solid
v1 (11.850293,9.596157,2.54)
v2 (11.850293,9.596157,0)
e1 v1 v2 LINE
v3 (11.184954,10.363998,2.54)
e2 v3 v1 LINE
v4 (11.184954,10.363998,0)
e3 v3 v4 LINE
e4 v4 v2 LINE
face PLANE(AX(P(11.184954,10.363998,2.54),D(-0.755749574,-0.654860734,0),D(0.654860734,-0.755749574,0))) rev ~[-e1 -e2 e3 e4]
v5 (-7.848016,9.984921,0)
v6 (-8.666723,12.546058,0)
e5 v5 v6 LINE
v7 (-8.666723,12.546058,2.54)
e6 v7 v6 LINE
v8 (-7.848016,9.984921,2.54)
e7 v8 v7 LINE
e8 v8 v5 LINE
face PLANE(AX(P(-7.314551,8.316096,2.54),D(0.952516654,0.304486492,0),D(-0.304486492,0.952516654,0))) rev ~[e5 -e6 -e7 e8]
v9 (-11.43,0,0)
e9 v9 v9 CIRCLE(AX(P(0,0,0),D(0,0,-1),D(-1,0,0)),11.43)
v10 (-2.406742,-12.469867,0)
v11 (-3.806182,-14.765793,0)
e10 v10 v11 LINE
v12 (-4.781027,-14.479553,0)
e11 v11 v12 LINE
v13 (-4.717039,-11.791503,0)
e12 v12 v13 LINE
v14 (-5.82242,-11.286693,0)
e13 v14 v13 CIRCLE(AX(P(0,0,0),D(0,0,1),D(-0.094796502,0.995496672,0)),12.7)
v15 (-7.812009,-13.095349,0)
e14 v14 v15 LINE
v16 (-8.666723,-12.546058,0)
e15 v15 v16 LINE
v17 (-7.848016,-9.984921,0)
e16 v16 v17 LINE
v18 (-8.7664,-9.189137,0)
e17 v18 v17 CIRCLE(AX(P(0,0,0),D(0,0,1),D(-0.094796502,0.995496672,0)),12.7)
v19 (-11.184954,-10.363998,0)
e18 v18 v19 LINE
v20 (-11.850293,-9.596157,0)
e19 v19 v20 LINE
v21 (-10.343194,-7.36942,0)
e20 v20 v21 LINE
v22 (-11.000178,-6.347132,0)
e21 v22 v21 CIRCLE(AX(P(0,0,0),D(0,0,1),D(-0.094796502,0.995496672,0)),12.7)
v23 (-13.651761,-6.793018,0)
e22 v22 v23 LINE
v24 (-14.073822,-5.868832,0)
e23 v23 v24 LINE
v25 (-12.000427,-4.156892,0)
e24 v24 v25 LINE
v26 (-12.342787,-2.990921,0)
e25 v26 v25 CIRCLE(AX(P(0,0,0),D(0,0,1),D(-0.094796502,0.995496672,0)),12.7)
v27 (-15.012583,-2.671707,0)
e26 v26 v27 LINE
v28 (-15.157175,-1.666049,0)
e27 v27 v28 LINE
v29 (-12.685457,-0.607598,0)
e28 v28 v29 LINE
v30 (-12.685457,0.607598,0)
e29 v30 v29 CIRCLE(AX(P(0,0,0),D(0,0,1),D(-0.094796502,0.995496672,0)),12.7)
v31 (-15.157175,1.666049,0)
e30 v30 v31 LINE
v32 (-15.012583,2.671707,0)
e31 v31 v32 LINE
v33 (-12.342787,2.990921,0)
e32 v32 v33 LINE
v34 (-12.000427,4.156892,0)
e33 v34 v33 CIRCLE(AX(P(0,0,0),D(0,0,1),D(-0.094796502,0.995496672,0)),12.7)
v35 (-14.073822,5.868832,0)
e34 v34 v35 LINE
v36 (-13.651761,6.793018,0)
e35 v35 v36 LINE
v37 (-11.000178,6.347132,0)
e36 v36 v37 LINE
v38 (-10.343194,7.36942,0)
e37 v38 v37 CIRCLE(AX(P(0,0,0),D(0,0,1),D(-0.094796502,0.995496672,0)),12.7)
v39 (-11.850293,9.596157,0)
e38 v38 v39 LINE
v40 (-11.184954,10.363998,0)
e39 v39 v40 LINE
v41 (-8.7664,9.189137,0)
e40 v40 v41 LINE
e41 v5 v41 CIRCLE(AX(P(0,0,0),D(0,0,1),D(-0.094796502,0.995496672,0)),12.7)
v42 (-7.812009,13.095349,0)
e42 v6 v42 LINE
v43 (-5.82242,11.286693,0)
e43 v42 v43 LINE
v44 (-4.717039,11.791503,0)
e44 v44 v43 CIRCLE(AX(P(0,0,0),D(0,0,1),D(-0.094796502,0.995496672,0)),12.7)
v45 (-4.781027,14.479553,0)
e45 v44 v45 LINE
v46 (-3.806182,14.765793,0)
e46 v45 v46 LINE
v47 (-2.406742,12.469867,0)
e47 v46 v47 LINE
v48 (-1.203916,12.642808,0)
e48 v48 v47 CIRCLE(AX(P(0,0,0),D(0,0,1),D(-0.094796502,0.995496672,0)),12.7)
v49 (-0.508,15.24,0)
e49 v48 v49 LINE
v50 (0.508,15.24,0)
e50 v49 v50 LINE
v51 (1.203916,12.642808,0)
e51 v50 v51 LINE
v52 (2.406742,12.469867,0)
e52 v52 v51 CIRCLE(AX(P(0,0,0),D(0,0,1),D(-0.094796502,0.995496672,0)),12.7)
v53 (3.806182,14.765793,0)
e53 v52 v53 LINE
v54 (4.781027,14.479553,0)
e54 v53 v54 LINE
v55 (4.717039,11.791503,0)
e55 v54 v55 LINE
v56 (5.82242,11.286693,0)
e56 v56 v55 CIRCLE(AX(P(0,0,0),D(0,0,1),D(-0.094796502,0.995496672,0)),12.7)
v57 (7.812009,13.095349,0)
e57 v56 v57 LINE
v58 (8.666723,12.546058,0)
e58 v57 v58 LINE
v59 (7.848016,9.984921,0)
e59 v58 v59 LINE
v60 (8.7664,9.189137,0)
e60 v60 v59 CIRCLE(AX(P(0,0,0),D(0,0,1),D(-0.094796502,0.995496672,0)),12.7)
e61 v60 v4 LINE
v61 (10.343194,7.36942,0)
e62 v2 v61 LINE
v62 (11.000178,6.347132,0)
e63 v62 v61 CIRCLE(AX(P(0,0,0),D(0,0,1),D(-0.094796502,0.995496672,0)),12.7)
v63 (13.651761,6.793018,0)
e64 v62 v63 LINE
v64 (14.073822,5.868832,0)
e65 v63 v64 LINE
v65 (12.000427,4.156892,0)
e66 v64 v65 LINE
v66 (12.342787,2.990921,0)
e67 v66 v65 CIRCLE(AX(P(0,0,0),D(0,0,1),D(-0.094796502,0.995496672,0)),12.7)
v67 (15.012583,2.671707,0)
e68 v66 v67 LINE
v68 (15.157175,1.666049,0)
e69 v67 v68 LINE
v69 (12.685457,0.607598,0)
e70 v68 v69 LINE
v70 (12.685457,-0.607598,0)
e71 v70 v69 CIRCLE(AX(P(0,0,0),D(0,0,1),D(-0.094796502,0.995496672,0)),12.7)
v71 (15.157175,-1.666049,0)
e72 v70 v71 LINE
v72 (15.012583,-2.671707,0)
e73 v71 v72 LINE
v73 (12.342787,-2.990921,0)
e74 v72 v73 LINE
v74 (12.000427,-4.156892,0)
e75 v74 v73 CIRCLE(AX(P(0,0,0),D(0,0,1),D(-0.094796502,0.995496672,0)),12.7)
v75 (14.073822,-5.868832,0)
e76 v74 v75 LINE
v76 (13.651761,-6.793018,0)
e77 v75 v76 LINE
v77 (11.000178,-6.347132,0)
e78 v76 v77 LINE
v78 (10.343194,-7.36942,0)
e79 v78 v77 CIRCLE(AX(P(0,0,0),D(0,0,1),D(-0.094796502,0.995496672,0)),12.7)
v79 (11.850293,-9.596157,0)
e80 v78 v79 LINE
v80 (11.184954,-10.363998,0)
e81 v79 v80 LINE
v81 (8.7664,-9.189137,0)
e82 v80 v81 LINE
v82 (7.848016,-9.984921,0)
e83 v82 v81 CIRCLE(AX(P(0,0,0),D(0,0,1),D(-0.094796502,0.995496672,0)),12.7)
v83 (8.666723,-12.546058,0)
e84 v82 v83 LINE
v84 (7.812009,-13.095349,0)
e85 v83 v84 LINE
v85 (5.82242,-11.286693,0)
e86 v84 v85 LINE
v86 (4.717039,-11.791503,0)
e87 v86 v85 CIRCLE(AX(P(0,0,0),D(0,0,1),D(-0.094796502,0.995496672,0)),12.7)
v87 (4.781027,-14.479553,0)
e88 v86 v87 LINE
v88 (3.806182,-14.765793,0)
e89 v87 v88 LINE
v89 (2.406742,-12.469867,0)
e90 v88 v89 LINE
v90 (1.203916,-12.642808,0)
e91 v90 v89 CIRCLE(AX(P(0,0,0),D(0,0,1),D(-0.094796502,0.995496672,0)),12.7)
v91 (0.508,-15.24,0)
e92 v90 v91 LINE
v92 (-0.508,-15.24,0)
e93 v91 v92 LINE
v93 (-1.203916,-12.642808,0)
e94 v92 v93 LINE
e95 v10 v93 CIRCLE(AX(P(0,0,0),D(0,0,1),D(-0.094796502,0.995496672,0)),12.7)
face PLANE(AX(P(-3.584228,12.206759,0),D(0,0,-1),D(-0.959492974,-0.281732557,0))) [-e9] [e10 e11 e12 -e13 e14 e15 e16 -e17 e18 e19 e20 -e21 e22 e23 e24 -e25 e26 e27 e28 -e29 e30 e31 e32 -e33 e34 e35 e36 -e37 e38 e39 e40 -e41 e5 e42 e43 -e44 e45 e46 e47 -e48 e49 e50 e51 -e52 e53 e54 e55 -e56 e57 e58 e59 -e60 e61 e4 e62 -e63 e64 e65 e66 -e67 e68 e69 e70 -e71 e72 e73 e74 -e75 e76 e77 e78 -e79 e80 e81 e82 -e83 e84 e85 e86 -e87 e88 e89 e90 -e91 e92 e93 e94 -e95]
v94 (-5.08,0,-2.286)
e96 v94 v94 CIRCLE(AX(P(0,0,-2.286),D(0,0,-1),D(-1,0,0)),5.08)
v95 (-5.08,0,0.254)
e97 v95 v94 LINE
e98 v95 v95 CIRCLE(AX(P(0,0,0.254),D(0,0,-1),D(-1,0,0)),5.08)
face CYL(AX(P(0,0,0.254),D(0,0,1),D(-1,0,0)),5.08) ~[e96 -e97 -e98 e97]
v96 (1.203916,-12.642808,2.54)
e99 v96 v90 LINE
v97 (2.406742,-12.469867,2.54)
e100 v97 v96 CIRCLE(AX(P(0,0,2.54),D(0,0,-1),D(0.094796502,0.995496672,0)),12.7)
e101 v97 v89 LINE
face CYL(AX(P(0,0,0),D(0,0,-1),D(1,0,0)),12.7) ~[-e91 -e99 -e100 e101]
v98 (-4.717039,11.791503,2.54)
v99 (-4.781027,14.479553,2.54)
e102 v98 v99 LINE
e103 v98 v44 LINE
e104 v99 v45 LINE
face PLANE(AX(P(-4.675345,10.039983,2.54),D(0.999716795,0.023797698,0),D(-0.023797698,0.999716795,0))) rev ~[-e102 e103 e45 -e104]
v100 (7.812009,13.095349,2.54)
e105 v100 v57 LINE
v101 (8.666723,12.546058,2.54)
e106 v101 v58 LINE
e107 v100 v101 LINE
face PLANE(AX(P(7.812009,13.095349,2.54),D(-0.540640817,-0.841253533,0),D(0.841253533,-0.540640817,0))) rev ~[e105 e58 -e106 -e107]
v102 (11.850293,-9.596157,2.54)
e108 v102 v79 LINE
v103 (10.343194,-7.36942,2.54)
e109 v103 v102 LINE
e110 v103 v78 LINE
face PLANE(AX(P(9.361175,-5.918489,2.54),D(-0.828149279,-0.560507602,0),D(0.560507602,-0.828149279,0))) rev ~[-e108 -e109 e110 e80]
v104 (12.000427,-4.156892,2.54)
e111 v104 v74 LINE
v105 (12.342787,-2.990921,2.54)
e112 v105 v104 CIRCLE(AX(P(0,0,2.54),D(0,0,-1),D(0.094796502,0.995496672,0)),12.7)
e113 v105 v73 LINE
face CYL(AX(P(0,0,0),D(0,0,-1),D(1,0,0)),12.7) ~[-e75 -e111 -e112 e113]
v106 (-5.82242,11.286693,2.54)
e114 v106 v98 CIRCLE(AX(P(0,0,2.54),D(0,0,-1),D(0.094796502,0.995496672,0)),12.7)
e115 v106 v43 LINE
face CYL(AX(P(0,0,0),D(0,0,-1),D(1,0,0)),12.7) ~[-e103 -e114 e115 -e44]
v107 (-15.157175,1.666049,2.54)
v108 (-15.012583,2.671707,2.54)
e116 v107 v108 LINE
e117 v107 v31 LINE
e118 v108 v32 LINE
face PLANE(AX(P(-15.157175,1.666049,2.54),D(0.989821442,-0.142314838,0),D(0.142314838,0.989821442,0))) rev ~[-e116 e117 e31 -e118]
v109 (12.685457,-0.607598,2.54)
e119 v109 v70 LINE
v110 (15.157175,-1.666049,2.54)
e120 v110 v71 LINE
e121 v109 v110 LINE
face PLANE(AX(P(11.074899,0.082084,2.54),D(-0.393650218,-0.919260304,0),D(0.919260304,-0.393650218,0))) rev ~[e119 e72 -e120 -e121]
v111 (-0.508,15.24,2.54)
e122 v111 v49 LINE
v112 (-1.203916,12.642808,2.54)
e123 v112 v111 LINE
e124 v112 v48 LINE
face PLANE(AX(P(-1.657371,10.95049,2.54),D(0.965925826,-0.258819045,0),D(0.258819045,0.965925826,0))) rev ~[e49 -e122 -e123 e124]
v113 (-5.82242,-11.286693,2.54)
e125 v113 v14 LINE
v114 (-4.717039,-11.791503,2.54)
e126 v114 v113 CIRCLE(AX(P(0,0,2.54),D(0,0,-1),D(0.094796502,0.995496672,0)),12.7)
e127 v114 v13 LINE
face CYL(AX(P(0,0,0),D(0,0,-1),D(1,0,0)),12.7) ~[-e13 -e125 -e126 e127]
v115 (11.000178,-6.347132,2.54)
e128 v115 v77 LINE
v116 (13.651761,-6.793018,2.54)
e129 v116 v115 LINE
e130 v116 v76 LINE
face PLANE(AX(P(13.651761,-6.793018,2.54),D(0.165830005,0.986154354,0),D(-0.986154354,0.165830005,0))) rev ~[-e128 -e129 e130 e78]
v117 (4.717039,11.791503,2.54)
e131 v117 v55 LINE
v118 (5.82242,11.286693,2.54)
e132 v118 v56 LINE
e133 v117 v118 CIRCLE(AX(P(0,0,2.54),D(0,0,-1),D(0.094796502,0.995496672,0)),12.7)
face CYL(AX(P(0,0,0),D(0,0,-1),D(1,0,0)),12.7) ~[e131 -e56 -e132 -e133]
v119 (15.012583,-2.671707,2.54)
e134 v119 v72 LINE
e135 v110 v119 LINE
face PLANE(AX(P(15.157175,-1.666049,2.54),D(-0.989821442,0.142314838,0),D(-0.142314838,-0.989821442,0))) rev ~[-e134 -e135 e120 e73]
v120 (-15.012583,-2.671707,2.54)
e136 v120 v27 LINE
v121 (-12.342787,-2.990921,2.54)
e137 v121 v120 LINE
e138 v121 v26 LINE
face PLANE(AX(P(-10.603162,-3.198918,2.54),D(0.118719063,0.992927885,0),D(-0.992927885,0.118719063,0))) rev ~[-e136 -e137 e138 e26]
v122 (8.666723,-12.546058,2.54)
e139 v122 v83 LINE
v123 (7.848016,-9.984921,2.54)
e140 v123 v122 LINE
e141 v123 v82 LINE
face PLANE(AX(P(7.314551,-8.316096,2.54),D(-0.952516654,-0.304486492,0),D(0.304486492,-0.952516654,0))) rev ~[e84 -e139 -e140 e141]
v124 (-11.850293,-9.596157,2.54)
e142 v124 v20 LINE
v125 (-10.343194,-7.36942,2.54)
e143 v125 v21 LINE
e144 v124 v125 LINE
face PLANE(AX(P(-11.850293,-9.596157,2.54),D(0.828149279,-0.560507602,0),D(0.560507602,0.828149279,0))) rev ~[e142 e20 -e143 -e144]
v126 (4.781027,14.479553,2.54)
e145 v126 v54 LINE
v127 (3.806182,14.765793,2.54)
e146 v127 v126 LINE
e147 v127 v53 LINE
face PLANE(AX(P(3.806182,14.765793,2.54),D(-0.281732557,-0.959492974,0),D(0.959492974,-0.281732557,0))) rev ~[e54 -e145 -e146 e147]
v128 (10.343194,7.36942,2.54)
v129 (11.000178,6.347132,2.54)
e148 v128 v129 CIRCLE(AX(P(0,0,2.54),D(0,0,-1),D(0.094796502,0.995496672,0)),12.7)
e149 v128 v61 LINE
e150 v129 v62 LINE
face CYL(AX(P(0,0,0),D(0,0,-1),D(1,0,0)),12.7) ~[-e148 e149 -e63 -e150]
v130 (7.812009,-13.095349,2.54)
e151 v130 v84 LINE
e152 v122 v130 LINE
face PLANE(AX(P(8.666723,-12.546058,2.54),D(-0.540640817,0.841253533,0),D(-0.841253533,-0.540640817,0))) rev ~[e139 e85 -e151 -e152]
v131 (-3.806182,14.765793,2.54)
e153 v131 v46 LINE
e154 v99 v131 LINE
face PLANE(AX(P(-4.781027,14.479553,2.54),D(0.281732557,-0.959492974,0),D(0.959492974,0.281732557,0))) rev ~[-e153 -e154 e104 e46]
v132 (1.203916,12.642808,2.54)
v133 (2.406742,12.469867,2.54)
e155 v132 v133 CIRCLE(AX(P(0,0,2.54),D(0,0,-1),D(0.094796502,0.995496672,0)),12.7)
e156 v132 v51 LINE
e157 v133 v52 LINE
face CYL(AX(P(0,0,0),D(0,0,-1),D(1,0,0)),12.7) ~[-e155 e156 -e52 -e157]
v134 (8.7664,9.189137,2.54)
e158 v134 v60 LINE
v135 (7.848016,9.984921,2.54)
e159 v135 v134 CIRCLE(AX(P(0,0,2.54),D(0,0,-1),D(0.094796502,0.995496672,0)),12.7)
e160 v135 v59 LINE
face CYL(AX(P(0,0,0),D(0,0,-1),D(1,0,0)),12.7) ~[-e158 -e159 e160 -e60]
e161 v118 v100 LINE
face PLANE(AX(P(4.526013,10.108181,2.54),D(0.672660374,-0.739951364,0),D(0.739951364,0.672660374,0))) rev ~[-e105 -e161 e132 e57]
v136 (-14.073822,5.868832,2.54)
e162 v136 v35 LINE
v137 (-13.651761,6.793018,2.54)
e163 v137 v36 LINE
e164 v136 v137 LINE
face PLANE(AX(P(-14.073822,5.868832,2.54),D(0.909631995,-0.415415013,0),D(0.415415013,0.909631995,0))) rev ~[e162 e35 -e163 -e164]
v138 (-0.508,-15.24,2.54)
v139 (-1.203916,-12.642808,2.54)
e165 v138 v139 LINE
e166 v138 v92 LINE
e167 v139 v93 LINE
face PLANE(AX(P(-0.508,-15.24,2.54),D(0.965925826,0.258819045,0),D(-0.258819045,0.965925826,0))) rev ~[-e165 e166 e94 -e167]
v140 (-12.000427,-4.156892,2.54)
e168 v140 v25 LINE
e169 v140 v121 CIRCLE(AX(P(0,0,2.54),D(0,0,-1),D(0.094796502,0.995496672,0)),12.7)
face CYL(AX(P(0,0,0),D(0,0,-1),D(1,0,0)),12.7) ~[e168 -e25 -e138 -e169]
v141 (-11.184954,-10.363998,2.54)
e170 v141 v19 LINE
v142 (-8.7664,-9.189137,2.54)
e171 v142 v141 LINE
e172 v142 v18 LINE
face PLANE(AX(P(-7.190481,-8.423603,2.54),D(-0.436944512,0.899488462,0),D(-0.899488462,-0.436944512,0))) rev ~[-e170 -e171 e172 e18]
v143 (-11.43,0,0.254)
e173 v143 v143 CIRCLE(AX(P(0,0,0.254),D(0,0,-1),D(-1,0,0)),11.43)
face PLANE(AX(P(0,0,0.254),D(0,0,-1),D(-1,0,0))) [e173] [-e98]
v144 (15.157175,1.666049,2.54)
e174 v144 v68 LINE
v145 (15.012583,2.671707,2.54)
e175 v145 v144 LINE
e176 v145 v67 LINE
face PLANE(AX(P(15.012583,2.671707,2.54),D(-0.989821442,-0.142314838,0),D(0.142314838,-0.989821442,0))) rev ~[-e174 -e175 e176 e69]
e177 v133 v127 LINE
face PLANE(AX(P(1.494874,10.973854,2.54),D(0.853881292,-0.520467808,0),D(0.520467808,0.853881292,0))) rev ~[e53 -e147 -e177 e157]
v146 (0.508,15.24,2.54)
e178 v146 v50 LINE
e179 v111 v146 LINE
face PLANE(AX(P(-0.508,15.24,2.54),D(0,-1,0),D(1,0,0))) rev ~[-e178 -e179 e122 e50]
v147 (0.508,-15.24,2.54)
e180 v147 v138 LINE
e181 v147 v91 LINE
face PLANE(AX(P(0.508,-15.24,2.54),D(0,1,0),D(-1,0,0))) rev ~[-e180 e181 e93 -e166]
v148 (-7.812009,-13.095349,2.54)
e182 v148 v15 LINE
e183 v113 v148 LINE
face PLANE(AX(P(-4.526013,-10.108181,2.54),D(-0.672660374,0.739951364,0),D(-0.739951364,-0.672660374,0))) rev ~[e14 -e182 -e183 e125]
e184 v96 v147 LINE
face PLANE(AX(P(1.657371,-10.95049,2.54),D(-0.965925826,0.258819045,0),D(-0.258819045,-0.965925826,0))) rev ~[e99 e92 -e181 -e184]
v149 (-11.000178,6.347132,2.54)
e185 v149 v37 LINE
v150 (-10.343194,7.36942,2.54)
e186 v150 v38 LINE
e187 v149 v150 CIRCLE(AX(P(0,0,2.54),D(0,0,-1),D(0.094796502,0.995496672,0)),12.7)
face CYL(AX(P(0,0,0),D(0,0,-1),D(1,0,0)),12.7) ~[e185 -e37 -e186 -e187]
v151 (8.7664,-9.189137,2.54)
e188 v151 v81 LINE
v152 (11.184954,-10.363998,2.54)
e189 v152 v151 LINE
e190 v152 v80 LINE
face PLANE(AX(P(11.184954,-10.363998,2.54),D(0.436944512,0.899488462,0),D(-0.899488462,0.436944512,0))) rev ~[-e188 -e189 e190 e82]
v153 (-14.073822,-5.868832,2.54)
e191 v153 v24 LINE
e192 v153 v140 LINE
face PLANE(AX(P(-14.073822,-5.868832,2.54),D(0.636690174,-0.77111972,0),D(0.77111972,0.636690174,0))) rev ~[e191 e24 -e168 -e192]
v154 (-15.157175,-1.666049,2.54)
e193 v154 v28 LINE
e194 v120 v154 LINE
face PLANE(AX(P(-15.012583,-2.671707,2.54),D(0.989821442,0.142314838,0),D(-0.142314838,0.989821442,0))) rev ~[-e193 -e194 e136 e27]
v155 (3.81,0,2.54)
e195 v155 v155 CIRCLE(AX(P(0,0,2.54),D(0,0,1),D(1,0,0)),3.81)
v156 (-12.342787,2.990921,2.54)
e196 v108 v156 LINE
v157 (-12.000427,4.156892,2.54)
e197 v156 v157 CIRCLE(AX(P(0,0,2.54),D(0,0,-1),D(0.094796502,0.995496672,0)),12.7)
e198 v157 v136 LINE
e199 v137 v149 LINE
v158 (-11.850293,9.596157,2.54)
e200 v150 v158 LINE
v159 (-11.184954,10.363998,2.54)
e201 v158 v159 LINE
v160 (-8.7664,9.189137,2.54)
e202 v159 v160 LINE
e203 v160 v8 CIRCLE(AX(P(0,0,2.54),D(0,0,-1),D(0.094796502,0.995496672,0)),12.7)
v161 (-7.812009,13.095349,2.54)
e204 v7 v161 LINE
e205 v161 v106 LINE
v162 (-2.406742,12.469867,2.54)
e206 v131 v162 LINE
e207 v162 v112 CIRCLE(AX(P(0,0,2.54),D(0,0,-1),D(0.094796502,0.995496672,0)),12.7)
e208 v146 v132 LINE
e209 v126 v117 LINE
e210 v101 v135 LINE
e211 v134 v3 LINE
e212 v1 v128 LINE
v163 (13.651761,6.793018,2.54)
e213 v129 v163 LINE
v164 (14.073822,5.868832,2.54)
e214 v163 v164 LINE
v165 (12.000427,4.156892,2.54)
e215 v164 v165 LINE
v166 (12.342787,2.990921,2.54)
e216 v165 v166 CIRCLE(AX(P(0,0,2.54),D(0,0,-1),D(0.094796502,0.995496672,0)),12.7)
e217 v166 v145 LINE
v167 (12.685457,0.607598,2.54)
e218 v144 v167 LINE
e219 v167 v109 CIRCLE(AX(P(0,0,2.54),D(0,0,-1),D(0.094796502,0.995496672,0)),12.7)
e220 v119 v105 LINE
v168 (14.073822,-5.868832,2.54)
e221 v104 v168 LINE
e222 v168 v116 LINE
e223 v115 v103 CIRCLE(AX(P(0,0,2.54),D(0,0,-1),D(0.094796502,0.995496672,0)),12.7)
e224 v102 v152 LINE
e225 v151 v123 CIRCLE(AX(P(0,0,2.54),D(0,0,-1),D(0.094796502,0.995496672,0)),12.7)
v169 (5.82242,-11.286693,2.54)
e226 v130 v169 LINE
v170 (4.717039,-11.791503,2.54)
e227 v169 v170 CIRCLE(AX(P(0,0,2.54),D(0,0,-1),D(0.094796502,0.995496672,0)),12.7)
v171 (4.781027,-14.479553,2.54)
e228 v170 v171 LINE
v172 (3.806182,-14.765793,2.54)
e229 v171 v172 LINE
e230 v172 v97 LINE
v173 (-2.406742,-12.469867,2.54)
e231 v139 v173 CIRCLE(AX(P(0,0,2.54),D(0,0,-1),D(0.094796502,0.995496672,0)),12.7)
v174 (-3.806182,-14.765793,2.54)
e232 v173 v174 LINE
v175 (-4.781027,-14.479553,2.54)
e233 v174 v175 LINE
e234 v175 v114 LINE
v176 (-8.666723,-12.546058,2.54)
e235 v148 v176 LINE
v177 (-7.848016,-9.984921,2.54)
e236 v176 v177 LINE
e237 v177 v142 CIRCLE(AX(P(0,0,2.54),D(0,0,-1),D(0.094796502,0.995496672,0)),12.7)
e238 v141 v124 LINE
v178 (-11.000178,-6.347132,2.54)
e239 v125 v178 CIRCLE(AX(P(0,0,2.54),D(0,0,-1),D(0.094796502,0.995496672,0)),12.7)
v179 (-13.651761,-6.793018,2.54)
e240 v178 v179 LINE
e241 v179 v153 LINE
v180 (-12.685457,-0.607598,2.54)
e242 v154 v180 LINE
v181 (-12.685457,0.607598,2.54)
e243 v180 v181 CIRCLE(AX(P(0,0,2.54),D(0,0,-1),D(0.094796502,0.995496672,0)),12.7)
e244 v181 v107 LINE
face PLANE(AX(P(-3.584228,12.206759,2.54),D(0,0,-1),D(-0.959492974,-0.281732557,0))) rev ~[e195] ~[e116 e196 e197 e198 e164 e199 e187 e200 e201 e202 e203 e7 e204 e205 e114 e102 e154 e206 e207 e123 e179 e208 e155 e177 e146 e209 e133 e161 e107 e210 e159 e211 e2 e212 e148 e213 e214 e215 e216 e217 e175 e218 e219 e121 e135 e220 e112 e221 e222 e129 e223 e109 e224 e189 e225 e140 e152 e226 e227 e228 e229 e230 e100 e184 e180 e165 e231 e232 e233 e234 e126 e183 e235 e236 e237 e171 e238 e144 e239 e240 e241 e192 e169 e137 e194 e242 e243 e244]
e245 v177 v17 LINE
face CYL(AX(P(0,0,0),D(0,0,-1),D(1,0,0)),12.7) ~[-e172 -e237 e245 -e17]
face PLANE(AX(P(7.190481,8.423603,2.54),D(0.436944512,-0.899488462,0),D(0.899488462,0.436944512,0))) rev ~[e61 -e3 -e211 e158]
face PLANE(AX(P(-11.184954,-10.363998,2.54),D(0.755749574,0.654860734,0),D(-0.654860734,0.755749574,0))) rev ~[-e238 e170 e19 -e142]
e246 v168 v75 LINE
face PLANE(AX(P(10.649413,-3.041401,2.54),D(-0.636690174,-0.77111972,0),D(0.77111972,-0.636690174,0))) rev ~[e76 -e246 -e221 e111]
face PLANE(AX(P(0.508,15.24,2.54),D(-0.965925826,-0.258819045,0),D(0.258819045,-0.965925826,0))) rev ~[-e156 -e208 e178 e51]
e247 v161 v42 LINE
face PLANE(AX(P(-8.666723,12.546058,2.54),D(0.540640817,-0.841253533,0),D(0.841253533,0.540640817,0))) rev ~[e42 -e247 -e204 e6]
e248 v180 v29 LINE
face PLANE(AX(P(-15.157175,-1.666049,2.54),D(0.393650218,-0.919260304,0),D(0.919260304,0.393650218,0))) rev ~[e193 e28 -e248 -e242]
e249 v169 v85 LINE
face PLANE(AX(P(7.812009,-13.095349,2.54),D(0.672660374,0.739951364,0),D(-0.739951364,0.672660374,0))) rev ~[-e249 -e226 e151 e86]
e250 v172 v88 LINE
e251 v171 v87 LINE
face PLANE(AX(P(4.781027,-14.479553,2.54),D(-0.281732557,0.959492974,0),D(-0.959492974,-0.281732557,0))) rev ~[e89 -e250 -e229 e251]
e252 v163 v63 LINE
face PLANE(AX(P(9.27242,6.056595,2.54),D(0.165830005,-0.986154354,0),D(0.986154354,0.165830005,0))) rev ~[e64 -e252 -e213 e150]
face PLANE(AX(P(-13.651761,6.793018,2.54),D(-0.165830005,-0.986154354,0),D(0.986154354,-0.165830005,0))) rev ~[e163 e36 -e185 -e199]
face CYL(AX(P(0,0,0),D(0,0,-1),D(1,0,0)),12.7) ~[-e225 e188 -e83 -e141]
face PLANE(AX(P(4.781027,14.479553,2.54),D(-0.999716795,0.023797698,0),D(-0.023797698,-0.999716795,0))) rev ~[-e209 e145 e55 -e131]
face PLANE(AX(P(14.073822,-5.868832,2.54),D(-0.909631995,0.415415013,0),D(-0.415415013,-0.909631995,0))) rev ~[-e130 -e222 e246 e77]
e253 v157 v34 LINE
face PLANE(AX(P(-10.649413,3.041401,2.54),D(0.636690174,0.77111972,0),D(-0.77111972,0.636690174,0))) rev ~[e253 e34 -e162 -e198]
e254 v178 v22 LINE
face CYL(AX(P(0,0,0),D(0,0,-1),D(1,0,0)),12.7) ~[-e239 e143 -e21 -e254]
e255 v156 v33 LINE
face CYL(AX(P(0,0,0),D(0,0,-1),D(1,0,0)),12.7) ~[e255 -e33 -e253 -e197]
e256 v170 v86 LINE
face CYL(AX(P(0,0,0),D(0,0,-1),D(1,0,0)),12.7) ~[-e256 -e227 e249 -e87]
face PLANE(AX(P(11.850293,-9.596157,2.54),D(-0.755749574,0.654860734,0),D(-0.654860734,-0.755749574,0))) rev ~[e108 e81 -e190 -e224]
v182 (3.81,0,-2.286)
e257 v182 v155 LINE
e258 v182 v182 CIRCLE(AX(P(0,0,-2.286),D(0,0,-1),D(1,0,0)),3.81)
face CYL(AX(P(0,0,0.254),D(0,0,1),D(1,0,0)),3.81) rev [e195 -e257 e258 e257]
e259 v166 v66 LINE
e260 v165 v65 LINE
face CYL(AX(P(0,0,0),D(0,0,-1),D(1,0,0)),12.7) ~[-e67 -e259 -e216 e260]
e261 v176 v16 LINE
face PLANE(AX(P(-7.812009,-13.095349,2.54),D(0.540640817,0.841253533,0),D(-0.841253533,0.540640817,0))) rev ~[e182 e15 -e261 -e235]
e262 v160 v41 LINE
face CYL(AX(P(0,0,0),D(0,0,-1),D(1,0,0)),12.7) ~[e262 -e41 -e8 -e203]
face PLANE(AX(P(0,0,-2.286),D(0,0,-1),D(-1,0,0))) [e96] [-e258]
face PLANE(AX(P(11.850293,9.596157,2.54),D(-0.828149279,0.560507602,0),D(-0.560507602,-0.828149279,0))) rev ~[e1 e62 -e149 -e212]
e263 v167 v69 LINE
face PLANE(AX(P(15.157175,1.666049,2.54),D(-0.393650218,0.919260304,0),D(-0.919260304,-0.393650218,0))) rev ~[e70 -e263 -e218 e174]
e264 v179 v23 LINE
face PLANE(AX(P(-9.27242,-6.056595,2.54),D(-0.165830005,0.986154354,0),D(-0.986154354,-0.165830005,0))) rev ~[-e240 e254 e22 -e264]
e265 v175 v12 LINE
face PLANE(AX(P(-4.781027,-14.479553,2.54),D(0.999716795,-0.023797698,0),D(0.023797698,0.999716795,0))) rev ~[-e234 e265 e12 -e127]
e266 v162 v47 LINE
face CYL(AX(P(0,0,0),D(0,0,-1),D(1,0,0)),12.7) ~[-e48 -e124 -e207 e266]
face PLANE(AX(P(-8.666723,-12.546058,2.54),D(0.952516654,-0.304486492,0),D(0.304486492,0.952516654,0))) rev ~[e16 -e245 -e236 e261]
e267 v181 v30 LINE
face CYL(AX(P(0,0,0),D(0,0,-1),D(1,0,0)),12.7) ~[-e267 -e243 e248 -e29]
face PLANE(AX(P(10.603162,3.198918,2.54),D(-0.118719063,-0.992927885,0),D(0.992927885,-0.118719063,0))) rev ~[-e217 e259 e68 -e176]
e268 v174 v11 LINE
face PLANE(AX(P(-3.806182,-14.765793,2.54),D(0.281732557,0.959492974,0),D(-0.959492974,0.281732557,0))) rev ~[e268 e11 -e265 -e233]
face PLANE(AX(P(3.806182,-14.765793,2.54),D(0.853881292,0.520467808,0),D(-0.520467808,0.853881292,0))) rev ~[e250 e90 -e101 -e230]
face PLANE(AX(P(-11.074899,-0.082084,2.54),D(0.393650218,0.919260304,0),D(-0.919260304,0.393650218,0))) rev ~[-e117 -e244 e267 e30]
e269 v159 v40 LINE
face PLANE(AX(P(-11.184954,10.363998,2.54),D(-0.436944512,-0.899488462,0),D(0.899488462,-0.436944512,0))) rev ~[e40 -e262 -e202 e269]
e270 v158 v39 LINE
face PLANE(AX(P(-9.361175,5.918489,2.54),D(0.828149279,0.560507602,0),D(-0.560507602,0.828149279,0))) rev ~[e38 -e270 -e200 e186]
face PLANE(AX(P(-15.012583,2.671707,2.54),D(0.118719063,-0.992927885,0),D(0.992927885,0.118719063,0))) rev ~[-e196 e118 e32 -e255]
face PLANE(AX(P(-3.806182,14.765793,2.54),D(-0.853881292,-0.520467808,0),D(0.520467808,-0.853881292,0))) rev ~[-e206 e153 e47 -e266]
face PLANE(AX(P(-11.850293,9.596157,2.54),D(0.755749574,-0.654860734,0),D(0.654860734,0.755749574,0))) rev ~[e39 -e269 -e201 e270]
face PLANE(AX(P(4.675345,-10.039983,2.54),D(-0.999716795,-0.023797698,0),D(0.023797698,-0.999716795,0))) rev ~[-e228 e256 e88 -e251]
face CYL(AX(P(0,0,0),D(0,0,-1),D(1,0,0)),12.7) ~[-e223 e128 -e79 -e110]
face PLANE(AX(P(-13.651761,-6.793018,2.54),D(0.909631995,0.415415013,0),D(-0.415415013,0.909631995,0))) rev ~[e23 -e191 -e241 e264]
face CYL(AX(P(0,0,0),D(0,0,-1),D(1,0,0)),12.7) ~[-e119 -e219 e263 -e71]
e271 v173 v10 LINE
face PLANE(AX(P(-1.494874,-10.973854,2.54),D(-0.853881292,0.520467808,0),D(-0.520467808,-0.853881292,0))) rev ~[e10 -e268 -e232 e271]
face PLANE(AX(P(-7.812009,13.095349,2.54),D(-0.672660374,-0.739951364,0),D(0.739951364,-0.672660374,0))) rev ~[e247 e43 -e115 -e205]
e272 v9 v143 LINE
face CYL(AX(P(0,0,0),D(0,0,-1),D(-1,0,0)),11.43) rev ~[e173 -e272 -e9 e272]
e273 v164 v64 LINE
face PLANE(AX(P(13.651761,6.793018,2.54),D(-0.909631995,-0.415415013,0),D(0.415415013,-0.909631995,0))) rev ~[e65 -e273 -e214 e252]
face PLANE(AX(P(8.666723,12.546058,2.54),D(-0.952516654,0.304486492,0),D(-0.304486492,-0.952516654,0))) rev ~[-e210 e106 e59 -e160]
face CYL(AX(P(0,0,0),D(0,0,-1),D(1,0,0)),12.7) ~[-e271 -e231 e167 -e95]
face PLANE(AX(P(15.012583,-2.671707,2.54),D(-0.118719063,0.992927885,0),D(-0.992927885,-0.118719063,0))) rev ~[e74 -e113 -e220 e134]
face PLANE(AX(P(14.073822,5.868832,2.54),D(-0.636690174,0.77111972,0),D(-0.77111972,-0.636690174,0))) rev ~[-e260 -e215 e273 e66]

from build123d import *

# Parameters (mm, degrees)
SKETCH3_R            = 12.7
BOSS_EXTRUDE2_DEPTH  = 2.54
BOSS_EXTRUDE4_DEPTH  = 2.54
CIRPATTERN1_COUNT    = 22
SKETCH5_R            = 11.43
BOSS_EXTRUDE6_DEPTH  = 0.254
SKETCH6_R            = 3.81
CUT_EXTRUDE1_DEPTH   = 16.08
SKETCH8_R            = 11.43
CUT_EXTRUDE2_DEPTH   = 0.254
SKETCH9_R            = 5.08
BOSS_EXTRUDE11_DEPTH = 2.54
CUT_EXTRUDE3_START   = -2.54
SKETCH10_R           = 3.81
CUT_EXTRUDE3_DEPTH   = 2.54


with BuildPart() as part:
    # Sketch3 → Boss-Extrude2 (new body)
    with BuildSketch(Plane.XY):
        Circle(SKETCH3_R)
    boss_extrude2 = extrude(amount=BOSS_EXTRUDE2_DEPTH)

    # Sketch4 → Boss-Extrude4 (add)
    with BuildSketch(Plane.XY.offset(2.54)):
        Polygon((-0.508, 15.24), (0.508, 15.24), (1.657370651, 10.950490333), (-1.657370651, 10.950490333), align=None)
    boss_extrude4 = extrude(amount=-BOSS_EXTRUDE4_DEPTH)

    # CirPattern1: Boss-Extrude2, Boss-Extrude4 ×22 about axis
    cirpattern1_axis = Axis((0, 0, 0), (0, 0, 1))
    add([boss_extrude2.rotate(cirpattern1_axis, i * 360 / CIRPATTERN1_COUNT) for i in range(1, CIRPATTERN1_COUNT)])
    add([boss_extrude4.rotate(cirpattern1_axis, i * 360 / CIRPATTERN1_COUNT) for i in range(1, CIRPATTERN1_COUNT)])

    # Sketch5 → Boss-Extrude6 (add)
    with BuildSketch(Plane(origin=(0, 0, 0), x_dir=(-1, 0, 0), z_dir=(0, 0, -1))):
        Circle(SKETCH5_R)
    extrude(amount=-BOSS_EXTRUDE6_DEPTH)

    # Sketch6 → Cut-Extrude1 (cut)
    with BuildSketch(Plane.XY.offset(2.54)):
        Circle(SKETCH6_R)
    extrude(amount=-CUT_EXTRUDE1_DEPTH, mode=Mode.SUBTRACT)

    # Sketch8 → Cut-Extrude2 (cut)
    with BuildSketch(Plane(origin=(0, 0, 0), x_dir=(-1, 0, 0), z_dir=(0, 0, -1))):
        Circle(SKETCH8_R)
    extrude(amount=-CUT_EXTRUDE2_DEPTH, mode=Mode.SUBTRACT)

    # Sketch9 → Boss-Extrude11 (add)
    with BuildSketch(Plane(origin=(0, 0, 0.254), x_dir=(-1, 0, 0), z_dir=(0, 0, -1))):
        Circle(SKETCH9_R)
    extrude(amount=BOSS_EXTRUDE11_DEPTH)

    # Sketch10 → Cut-Extrude3 (cut)
    with BuildSketch(Plane(origin=(0, 0, -2.286), x_dir=(-1, 0, 0), z_dir=(0, 0, -1)).offset(CUT_EXTRUDE3_START)):
        with Locations(Location((0, 0, 0), (0, 0, 180))):
            Circle(SKETCH10_R)
    extrude(amount=CUT_EXTRUDE3_DEPTH, mode=Mode.SUBTRACT)


solid = part.part
